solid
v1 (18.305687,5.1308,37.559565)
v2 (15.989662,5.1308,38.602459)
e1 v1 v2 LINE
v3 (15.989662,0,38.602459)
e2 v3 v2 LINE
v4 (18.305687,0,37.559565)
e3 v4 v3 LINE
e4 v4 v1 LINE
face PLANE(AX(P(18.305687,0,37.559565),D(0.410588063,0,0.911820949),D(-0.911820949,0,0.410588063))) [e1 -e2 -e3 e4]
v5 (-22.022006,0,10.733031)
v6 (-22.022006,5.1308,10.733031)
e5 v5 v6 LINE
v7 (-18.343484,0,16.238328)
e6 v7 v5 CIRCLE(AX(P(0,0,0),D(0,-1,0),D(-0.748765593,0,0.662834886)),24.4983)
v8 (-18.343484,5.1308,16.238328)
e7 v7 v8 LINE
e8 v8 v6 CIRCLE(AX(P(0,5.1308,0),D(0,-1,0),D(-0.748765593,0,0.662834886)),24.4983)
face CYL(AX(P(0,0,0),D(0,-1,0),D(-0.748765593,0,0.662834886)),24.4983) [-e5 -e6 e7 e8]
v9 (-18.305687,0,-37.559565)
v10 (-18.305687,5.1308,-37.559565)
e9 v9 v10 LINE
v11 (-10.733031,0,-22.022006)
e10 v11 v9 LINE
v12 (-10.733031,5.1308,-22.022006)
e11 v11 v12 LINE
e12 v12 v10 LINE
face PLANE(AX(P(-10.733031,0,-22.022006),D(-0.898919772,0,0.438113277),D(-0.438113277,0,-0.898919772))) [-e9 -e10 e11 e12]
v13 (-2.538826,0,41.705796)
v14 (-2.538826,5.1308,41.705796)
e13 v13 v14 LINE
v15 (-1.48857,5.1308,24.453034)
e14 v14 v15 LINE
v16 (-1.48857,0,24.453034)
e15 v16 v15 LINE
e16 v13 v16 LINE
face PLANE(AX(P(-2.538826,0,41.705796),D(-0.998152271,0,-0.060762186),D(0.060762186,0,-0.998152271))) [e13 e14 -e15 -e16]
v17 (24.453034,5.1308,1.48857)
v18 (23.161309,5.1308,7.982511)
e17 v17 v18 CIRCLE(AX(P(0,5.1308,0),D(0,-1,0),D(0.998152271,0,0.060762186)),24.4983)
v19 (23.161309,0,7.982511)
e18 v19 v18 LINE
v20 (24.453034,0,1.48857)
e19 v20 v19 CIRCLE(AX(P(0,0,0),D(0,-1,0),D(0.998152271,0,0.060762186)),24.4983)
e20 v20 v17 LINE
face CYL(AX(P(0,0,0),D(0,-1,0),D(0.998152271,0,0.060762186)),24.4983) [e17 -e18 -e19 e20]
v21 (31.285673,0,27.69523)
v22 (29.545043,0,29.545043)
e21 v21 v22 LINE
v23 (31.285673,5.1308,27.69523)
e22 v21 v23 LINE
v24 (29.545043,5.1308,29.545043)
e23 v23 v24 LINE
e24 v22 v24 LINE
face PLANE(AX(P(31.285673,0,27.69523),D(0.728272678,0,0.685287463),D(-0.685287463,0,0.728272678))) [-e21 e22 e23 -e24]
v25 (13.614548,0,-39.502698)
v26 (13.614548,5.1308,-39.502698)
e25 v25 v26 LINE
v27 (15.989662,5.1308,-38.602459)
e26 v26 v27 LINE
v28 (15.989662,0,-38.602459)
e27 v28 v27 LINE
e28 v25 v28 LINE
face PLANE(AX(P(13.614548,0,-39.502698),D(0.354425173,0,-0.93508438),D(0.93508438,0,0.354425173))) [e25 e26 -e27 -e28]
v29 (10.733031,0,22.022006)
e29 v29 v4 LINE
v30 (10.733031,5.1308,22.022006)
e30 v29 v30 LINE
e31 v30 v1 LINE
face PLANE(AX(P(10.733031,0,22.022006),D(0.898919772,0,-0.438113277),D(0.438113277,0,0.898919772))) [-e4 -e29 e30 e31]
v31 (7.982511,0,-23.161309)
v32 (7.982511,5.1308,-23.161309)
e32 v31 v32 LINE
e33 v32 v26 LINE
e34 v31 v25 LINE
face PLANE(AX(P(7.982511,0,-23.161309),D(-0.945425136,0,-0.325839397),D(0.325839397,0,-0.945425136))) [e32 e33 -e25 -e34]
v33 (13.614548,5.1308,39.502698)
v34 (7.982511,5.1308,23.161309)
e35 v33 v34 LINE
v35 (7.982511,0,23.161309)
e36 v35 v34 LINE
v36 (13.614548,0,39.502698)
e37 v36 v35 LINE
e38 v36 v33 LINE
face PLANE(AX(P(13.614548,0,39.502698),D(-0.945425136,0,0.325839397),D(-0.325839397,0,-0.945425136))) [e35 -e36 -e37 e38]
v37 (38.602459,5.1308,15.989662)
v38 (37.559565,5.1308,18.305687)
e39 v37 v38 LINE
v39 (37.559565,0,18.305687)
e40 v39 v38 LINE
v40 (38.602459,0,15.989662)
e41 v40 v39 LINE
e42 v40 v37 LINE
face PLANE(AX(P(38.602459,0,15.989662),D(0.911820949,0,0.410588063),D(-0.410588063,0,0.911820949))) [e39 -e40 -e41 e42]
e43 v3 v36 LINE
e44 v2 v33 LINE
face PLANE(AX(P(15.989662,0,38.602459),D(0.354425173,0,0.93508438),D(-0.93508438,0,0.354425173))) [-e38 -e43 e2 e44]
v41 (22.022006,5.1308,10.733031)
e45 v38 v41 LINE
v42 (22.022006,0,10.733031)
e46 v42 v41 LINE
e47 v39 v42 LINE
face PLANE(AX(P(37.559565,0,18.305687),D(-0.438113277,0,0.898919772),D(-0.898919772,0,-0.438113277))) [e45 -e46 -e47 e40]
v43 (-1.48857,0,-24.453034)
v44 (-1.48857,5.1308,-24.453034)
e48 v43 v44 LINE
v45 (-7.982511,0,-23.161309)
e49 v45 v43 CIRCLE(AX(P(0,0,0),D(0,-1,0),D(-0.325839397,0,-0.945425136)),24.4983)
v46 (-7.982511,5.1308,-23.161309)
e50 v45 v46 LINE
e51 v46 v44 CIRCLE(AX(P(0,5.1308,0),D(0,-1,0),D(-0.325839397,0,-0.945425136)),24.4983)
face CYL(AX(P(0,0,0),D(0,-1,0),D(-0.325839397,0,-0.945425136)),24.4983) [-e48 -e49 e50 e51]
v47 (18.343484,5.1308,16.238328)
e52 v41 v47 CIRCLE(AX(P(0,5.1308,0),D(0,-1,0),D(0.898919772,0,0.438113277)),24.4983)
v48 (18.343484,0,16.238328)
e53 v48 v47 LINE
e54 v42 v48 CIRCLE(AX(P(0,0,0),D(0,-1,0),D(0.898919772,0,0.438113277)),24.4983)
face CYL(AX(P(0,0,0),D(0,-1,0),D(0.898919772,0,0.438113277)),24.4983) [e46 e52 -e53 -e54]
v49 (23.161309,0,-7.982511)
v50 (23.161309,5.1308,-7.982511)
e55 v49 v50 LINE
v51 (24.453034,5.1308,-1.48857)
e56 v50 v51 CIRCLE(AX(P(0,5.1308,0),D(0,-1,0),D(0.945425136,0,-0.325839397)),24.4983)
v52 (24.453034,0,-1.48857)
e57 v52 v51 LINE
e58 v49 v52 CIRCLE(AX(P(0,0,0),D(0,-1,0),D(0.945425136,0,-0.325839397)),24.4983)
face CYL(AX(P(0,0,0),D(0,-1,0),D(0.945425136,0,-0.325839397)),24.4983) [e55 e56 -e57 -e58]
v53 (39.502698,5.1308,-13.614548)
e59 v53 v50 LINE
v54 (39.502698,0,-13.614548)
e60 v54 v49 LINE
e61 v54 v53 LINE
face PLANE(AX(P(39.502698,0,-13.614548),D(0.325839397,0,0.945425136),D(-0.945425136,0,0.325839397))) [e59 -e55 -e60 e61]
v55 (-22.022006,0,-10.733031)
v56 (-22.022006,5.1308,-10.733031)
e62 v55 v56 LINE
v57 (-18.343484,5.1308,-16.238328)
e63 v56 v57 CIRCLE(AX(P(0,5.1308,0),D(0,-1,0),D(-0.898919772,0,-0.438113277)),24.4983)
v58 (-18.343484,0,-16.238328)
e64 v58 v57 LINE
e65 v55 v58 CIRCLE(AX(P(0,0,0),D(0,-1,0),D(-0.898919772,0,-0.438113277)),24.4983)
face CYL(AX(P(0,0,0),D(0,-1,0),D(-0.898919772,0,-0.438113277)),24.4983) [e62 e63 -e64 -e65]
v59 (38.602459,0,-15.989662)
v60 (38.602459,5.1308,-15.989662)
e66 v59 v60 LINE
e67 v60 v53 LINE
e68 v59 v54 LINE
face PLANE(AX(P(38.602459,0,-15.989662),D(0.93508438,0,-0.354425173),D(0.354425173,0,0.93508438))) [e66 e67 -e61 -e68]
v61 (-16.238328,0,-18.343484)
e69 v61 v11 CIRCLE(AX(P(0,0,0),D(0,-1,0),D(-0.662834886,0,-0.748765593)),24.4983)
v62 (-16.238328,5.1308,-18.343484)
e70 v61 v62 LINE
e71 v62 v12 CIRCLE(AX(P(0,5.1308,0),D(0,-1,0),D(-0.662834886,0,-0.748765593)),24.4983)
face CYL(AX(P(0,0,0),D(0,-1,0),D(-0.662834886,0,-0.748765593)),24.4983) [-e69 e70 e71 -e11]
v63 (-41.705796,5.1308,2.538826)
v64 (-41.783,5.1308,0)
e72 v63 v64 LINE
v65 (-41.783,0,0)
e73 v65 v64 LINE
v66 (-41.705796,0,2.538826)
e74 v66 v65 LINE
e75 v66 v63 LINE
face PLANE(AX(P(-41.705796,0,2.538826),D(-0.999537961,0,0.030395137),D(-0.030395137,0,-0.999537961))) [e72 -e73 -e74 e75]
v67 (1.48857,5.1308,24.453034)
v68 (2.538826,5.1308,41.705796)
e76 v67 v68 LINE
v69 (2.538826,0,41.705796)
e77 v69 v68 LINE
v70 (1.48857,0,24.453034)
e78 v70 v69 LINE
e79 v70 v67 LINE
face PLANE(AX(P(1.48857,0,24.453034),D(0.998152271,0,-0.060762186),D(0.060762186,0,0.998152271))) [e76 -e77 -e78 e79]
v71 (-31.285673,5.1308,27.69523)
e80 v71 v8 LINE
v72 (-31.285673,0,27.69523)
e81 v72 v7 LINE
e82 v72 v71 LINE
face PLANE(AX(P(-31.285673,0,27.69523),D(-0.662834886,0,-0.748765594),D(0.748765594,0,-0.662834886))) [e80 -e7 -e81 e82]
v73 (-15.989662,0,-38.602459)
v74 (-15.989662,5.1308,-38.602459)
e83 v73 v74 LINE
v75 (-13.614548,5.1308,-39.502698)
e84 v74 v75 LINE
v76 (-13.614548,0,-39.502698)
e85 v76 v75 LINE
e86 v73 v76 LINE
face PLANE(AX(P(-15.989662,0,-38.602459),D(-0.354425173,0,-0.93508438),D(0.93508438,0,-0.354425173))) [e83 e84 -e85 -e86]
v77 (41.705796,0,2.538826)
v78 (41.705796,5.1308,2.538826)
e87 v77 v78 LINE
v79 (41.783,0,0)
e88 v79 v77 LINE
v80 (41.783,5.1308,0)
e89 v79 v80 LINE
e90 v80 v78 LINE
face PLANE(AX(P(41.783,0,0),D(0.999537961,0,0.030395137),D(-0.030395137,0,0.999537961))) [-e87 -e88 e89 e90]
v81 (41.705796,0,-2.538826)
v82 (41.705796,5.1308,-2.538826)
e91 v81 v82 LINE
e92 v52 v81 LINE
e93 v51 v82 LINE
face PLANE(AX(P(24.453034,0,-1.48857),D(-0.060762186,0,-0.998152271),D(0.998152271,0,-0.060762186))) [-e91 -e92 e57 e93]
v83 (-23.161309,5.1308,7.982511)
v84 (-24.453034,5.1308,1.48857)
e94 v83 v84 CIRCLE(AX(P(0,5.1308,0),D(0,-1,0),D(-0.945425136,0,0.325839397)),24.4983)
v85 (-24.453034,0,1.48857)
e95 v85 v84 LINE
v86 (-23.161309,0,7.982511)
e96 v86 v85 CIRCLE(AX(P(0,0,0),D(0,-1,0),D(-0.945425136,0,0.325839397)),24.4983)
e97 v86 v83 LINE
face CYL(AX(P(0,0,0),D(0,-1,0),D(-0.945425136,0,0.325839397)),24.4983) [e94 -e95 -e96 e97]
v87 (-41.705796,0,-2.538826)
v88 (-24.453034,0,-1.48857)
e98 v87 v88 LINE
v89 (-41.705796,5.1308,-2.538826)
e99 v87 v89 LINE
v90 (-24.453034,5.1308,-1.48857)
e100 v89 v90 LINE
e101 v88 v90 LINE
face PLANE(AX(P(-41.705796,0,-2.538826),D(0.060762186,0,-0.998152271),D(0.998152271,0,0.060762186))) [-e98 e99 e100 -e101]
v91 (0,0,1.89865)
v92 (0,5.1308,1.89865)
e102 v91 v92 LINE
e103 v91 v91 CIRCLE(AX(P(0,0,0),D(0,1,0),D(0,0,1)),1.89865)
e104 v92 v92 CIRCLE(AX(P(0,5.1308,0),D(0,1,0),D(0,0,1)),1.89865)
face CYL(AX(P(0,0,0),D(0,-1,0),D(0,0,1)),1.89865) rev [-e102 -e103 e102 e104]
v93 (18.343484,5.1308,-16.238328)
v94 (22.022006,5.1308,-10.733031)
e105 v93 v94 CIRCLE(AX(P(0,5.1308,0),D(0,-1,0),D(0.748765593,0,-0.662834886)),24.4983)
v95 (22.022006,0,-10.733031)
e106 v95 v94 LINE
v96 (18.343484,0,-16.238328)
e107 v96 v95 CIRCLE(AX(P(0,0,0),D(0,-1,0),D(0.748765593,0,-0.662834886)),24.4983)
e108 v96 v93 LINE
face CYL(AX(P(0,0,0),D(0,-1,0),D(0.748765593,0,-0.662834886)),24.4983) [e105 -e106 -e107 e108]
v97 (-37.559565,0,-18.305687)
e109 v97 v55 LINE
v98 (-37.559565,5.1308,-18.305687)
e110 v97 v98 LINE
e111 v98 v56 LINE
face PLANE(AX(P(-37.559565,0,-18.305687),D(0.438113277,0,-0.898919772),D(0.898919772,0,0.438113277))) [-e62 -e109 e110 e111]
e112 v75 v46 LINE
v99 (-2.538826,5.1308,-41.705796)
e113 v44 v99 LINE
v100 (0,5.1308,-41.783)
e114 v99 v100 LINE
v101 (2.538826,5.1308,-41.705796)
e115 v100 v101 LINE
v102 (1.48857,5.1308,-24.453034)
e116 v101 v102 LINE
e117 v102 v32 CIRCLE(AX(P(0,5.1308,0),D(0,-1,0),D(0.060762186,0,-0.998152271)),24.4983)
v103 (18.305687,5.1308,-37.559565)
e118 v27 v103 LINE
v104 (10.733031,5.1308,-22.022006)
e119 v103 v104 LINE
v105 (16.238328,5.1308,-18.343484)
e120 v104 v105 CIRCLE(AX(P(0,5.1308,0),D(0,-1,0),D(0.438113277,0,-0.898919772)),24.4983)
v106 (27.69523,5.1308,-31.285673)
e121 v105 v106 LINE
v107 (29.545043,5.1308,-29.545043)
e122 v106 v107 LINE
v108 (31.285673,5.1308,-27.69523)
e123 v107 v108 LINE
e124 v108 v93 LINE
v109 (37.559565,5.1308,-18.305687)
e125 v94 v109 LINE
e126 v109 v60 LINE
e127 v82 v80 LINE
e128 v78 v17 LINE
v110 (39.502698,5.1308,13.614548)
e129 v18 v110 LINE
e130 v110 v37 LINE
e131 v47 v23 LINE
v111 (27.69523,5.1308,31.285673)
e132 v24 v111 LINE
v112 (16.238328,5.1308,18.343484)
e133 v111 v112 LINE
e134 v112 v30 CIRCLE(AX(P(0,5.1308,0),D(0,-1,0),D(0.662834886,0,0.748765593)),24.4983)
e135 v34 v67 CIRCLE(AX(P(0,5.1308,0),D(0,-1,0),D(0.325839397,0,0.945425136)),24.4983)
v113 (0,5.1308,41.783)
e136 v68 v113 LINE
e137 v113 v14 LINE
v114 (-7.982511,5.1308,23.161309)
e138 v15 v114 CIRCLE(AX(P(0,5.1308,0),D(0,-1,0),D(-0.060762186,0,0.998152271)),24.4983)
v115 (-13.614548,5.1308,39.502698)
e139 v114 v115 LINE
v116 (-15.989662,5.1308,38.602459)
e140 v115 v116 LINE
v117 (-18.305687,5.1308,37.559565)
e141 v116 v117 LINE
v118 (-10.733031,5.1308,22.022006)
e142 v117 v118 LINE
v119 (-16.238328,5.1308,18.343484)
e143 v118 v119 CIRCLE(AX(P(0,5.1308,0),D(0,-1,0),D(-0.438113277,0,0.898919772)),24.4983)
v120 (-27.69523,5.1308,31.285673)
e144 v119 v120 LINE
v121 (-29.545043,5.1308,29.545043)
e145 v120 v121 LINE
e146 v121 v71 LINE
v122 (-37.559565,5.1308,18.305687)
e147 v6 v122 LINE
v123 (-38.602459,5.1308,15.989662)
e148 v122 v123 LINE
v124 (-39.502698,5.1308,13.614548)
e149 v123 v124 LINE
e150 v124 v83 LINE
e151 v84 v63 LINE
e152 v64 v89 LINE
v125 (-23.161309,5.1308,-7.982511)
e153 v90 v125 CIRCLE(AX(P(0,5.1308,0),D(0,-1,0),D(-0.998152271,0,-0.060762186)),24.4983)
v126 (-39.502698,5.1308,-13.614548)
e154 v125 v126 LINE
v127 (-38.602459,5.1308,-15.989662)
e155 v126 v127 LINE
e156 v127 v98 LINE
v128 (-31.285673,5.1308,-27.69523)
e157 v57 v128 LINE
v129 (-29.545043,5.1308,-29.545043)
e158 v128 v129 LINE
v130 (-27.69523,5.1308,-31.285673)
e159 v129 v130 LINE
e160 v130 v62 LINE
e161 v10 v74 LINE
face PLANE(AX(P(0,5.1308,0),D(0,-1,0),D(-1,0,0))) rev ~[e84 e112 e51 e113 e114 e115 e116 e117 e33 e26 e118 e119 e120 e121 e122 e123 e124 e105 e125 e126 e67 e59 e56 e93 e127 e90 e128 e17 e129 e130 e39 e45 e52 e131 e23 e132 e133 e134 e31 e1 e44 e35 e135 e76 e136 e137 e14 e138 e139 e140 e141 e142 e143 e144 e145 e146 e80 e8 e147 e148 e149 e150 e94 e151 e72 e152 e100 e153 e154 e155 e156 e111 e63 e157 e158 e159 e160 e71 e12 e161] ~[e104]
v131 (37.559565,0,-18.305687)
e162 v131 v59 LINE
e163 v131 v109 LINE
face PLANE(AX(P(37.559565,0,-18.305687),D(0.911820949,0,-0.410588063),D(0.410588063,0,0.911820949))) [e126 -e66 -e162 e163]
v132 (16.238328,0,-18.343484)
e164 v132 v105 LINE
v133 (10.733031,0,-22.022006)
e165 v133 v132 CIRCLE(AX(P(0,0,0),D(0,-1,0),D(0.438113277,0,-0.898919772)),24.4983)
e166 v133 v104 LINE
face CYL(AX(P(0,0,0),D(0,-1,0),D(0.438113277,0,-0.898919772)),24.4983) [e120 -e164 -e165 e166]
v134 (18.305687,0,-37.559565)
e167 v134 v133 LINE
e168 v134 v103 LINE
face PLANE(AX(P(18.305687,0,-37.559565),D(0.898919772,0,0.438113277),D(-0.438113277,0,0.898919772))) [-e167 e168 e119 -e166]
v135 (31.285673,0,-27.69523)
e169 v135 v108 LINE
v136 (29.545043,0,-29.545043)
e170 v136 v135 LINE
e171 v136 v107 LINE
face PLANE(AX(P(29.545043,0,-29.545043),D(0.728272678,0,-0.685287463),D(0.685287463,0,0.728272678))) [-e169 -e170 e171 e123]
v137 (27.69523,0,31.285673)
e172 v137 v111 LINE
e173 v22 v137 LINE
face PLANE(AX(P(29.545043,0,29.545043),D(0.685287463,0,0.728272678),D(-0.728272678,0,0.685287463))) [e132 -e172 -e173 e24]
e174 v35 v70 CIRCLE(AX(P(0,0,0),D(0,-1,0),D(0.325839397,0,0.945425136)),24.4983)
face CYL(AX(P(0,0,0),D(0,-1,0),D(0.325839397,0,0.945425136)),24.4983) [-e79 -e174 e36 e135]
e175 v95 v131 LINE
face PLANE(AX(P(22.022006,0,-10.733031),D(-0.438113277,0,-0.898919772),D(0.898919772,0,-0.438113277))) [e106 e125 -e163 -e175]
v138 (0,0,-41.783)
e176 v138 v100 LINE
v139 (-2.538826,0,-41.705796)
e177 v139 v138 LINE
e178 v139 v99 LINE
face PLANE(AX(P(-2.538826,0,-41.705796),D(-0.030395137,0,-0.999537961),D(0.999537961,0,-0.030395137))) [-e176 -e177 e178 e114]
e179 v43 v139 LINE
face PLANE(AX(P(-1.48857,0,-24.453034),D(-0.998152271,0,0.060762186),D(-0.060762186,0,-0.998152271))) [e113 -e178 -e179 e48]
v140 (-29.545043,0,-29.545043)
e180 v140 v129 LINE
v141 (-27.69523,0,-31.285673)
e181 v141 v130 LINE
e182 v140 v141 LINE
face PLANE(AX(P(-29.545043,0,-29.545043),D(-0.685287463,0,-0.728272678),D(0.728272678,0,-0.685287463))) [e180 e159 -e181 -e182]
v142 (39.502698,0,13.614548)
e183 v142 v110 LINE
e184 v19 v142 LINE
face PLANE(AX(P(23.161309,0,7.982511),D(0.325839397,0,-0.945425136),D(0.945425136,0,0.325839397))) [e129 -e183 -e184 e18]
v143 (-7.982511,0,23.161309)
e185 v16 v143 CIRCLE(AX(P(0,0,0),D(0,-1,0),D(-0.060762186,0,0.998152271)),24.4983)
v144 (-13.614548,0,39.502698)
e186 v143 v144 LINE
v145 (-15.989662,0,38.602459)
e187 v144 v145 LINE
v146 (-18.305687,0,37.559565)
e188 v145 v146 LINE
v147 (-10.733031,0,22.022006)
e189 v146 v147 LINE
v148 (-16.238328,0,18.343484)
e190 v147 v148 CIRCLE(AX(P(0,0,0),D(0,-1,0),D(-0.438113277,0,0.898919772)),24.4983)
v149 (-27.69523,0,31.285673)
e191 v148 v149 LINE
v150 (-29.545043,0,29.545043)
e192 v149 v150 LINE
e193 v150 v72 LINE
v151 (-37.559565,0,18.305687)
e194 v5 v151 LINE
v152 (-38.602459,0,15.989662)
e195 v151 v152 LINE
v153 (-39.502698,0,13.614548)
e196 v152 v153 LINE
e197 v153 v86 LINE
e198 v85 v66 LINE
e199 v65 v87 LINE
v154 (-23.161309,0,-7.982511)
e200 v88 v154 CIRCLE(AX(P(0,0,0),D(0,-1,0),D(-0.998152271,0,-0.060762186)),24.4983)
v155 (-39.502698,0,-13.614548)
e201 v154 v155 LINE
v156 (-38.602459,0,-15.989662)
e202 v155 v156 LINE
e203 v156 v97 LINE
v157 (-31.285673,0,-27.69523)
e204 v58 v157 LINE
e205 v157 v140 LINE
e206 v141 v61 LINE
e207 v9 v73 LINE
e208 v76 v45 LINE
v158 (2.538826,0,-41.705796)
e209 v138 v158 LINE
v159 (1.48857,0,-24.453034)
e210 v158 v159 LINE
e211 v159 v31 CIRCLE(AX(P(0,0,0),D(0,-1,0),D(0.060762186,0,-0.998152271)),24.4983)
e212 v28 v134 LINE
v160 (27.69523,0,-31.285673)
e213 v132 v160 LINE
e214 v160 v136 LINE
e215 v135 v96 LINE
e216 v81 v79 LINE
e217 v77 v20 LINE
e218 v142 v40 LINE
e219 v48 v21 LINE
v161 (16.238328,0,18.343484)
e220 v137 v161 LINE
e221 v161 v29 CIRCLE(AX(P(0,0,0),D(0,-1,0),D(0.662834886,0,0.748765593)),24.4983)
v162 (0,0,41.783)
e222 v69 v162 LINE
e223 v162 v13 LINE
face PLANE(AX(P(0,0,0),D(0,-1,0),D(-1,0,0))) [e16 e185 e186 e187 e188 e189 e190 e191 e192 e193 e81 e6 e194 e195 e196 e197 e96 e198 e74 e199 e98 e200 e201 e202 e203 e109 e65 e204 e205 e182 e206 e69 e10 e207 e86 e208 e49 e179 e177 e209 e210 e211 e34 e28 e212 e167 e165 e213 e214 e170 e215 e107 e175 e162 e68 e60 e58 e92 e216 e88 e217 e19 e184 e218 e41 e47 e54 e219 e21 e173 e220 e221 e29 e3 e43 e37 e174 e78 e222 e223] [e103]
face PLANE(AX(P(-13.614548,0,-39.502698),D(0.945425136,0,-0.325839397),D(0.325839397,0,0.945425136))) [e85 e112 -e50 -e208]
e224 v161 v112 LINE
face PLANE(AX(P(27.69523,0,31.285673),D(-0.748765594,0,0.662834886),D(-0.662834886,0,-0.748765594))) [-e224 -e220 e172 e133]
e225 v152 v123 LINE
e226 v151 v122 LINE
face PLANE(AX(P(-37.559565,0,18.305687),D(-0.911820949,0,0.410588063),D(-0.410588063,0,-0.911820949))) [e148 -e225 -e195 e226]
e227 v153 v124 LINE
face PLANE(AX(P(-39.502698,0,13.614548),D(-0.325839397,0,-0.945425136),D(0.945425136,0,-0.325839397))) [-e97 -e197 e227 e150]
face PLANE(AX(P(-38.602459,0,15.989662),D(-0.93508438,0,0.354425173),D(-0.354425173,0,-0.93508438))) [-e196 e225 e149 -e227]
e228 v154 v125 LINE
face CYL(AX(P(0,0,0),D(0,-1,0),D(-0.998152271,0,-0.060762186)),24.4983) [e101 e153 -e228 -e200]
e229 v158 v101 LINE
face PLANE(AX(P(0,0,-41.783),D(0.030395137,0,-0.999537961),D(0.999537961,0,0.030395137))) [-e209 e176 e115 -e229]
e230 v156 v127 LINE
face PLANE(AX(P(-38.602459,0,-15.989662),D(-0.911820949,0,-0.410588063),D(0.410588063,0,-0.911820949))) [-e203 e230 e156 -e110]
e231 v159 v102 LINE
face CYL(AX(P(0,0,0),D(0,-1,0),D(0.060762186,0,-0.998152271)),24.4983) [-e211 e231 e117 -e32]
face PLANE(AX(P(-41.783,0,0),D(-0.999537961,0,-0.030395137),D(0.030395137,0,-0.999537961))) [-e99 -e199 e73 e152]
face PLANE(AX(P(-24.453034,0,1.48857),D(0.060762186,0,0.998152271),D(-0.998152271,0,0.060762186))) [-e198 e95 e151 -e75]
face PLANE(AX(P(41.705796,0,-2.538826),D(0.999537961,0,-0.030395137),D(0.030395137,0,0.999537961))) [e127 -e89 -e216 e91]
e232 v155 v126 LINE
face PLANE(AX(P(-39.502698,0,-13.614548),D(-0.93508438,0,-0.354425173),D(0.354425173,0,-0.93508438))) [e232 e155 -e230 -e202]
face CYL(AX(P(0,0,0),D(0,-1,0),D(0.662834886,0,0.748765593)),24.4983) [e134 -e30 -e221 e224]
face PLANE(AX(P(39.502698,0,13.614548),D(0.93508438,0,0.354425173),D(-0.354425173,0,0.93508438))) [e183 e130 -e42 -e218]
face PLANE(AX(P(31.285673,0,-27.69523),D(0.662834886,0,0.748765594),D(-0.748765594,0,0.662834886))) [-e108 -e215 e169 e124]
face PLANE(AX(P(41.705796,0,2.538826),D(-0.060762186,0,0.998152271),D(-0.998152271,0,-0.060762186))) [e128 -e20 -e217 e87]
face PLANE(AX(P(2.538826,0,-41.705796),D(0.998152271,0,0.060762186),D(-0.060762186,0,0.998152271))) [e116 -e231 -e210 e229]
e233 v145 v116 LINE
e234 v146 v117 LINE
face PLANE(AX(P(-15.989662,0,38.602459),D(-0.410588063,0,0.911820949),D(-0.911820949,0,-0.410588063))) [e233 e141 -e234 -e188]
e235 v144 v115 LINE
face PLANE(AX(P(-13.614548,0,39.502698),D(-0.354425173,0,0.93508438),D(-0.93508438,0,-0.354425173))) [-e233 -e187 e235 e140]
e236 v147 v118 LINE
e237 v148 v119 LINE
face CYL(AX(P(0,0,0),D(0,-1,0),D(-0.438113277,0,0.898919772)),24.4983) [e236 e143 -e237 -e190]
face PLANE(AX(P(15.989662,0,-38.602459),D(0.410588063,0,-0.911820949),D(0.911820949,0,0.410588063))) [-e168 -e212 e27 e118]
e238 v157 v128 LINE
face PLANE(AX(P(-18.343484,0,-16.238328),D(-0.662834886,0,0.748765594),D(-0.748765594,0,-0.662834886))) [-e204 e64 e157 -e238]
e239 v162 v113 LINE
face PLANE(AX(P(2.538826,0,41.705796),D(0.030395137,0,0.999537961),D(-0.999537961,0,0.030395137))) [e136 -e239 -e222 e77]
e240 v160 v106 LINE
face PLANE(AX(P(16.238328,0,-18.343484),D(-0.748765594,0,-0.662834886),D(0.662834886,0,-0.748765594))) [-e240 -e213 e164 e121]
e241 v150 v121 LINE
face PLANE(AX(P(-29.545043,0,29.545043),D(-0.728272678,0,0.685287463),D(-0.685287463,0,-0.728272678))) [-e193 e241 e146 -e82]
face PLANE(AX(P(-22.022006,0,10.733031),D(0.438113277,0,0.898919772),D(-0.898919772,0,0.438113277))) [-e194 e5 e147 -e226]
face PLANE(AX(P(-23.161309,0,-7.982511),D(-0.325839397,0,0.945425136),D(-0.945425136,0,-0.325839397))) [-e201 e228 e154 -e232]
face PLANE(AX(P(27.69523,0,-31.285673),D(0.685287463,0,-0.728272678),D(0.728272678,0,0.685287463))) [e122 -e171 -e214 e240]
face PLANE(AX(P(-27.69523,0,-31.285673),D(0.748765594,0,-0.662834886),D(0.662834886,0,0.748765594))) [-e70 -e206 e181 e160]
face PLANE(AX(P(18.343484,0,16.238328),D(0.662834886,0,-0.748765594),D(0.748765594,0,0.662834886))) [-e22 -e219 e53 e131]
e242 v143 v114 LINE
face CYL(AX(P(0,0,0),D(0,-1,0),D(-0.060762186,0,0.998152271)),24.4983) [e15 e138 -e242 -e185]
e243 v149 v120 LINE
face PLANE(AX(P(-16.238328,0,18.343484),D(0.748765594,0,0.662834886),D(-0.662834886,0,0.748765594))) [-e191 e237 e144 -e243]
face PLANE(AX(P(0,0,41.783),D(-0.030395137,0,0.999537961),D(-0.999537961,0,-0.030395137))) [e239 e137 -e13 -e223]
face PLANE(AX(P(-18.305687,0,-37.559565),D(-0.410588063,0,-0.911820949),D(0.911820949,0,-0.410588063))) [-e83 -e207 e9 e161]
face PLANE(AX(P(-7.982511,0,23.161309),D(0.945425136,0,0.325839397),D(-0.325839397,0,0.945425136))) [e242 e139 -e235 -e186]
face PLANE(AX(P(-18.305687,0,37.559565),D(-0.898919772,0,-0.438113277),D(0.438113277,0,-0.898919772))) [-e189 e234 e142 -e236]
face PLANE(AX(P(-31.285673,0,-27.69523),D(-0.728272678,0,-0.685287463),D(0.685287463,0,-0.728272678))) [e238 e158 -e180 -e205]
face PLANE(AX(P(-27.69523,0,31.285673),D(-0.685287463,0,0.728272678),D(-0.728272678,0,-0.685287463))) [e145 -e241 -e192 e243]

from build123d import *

# Parameters (mm, degrees)
SKETCH2_R           = 1.89865
BOSS_EXTRUDE1_DEPTH = 5.1308


with BuildPart() as part:
    # Sketch2 → Boss-Extrude1 (new body)
    with BuildSketch(Plane(origin=(0, 0, 0), x_dir=(1, 0, 0), z_dir=(0, 1, 0))):
        with BuildLine():
            Line((-13.614547531, 39.502698446), (-15.989661855, 38.602458507))
            Line((-15.989661855, 38.602458507), (-18.305687065, 37.559564828))
            Line((-18.305687065, 37.559564828), (-10.733030501, 22.022006247))
            ThreePointArc((-10.733030501, 22.022006247), (-13.61052624, 20.369592003), (-16.238327885, 18.34348414))
            Line((-16.238327885, 18.34348414), (-27.695230037, 31.285672794))
            Line((-27.695230037, 31.285672794), (-29.545042638, 29.545042638))
            Line((-29.545042638, 29.545042638), (-31.285672794, 27.695230037))
            Line((-31.285672794, 27.695230037), (-18.34348414, 16.238327885))
            ThreePointArc((-18.34348414, 16.238327885), (-20.369592003, 13.61052624), (-22.022006247, 10.733030501))
            Line((-22.022006247, 10.733030501), (-37.559564828, 18.305687065))
            Line((-37.559564828, 18.305687065), (-38.602458507, 15.989661855))
            Line((-38.602458507, 15.989661855), (-39.502698446, 13.614547531))
            Line((-39.502698446, 13.614547531), (-23.161308603, 7.982511303))
            ThreePointArc((-23.161308603, 7.982511303), (-24.027572035, 4.779381236), (-24.453033788, 1.488570263))
            Line((-24.453033788, 1.488570263), (-41.705796353, 2.538826421))
            Line((-41.705796353, 2.538826421), (-41.783, 0))
            Line((-41.783, 0), (-41.705796353, -2.538826421))
            Line((-41.705796353, -2.538826421), (-24.453033788, -1.488570263))
            ThreePointArc((-24.453033788, -1.488570263), (-24.027572035, -4.779381236), (-23.161308603, -7.982511303))
            Line((-23.161308603, -7.982511303), (-39.502698446, -13.614547531))
            Line((-39.502698446, -13.614547531), (-38.602458507, -15.989661855))
            Line((-38.602458507, -15.989661855), (-37.559564828, -18.305687065))
            Line((-37.559564828, -18.305687065), (-22.022006247, -10.733030501))
            ThreePointArc((-22.022006247, -10.733030501), (-20.369592003, -13.61052624), (-18.34348414, -16.238327885))
            Line((-18.34348414, -16.238327885), (-31.285672794, -27.695230037))
            Line((-31.285672794, -27.695230037), (-29.545042638, -29.545042638))
            Line((-29.545042638, -29.545042638), (-27.695230037, -31.285672794))
            Line((-27.695230037, -31.285672794), (-16.238327885, -18.34348414))
            ThreePointArc((-16.238327885, -18.34348414), (-13.61052624, -20.369592003), (-10.733030501, -22.022006247))
            Line((-10.733030501, -22.022006247), (-18.305687065, -37.559564828))
            Line((-18.305687065, -37.559564828), (-15.989661855, -38.602458507))
            Line((-15.989661855, -38.602458507), (-13.614547531, -39.502698446))
            Line((-13.614547531, -39.502698446), (-7.982511303, -23.161308603))
            ThreePointArc((-7.982511303, -23.161308603), (-4.779381236, -24.027572035), (-1.488570263, -24.453033788))
            Line((-1.488570263, -24.453033788), (-2.538826421, -41.705796353))
            Line((-2.538826421, -41.705796353), (0, -41.783))
            Line((0, -41.783), (2.538826421, -41.705796353))
            Line((2.538826421, -41.705796353), (1.488570263, -24.453033788))
            ThreePointArc((1.488570263, -24.453033788), (4.779381236, -24.027572035), (7.982511303, -23.161308603))
            Line((7.982511303, -23.161308603), (13.614547531, -39.502698446))
            Line((13.614547531, -39.502698446), (15.989661855, -38.602458507))
            Line((15.989661855, -38.602458507), (18.305687065, -37.559564828))
            Line((18.305687065, -37.559564828), (10.733030501, -22.022006247))
            ThreePointArc((10.733030501, -22.022006247), (13.61052624, -20.369592003), (16.238327885, -18.34348414))
            Line((16.238327885, -18.34348414), (27.695230037, -31.285672794))
            Line((27.695230037, -31.285672794), (29.545042638, -29.545042638))
            Line((29.545042638, -29.545042638), (31.285672794, -27.695230037))
            Line((31.285672794, -27.695230037), (18.34348414, -16.238327885))
            ThreePointArc((18.34348414, -16.238327885), (20.369592003, -13.61052624), (22.022006247, -10.733030501))
            Line((22.022006247, -10.733030501), (37.559564828, -18.305687065))
            Line((37.559564828, -18.305687065), (38.602458507, -15.989661855))
            Line((38.602458507, -15.989661855), (39.502698446, -13.614547531))
            Line((39.502698446, -13.614547531), (23.161308603, -7.982511303))
            ThreePointArc((23.161308603, -7.982511303), (24.027572035, -4.779381236), (24.453033788, -1.488570263))
            Line((24.453033788, -1.488570263), (41.705796353, -2.538826421))
            Line((41.705796353, -2.538826421), (41.783, 0))
            Line((41.783, 0), (41.705796353, 2.538826421))
            Line((41.705796353, 2.538826421), (24.453033788, 1.488570263))
            ThreePointArc((24.453033788, 1.488570263), (24.027572035, 4.779381236), (23.161308603, 7.982511303))
            Line((23.161308603, 7.982511303), (39.502698446, 13.614547531))
            Line((39.502698446, 13.614547531), (38.602458507, 15.989661855))
            Line((38.602458507, 15.989661855), (37.559564828, 18.305687065))
            Line((37.559564828, 18.305687065), (22.022006247, 10.733030501))
            ThreePointArc((22.022006247, 10.733030501), (20.369592003, 13.61052624), (18.34348414, 16.238327885))
            Line((18.34348414, 16.238327885), (31.285672794, 27.695230037))
            Line((31.285672794, 27.695230037), (29.545042638, 29.545042638))
            Line((29.545042638, 29.545042638), (27.695230037, 31.285672794))
            Line((27.695230037, 31.285672794), (16.238327885, 18.34348414))
            ThreePointArc((16.238327885, 18.34348414), (13.61052624, 20.369592003), (10.733030501, 22.022006247))
            Line((10.733030501, 22.022006247), (18.305687065, 37.559564828))
            Line((18.305687065, 37.559564828), (15.989661855, 38.602458507))
            Line((15.989661855, 38.602458507), (13.614547531, 39.502698446))
            Line((13.614547531, 39.502698446), (7.982511303, 23.161308603))
            ThreePointArc((7.982511303, 23.161308603), (4.779381236, 24.027572035), (1.488570263, 24.453033788))
            Line((1.488570263, 24.453033788), (2.538826421, 41.705796353))
            Line((2.538826421, 41.705796353), (0, 41.783))
            Line((0, 41.783), (-2.538826421, 41.705796353))
            Line((-2.538826421, 41.705796353), (-1.488570263, 24.453033788))
            ThreePointArc((-1.488570263, 24.453033788), (-4.779381236, 24.027572035), (-7.982511303, 23.161308603))
            Line((-7.982511303, 23.161308603), (-13.614547531, 39.502698446))
        make_face()
        Circle(SKETCH2_R, mode=Mode.SUBTRACT)
    extrude(amount=BOSS_EXTRUDE1_DEPTH)


solid = part.part
